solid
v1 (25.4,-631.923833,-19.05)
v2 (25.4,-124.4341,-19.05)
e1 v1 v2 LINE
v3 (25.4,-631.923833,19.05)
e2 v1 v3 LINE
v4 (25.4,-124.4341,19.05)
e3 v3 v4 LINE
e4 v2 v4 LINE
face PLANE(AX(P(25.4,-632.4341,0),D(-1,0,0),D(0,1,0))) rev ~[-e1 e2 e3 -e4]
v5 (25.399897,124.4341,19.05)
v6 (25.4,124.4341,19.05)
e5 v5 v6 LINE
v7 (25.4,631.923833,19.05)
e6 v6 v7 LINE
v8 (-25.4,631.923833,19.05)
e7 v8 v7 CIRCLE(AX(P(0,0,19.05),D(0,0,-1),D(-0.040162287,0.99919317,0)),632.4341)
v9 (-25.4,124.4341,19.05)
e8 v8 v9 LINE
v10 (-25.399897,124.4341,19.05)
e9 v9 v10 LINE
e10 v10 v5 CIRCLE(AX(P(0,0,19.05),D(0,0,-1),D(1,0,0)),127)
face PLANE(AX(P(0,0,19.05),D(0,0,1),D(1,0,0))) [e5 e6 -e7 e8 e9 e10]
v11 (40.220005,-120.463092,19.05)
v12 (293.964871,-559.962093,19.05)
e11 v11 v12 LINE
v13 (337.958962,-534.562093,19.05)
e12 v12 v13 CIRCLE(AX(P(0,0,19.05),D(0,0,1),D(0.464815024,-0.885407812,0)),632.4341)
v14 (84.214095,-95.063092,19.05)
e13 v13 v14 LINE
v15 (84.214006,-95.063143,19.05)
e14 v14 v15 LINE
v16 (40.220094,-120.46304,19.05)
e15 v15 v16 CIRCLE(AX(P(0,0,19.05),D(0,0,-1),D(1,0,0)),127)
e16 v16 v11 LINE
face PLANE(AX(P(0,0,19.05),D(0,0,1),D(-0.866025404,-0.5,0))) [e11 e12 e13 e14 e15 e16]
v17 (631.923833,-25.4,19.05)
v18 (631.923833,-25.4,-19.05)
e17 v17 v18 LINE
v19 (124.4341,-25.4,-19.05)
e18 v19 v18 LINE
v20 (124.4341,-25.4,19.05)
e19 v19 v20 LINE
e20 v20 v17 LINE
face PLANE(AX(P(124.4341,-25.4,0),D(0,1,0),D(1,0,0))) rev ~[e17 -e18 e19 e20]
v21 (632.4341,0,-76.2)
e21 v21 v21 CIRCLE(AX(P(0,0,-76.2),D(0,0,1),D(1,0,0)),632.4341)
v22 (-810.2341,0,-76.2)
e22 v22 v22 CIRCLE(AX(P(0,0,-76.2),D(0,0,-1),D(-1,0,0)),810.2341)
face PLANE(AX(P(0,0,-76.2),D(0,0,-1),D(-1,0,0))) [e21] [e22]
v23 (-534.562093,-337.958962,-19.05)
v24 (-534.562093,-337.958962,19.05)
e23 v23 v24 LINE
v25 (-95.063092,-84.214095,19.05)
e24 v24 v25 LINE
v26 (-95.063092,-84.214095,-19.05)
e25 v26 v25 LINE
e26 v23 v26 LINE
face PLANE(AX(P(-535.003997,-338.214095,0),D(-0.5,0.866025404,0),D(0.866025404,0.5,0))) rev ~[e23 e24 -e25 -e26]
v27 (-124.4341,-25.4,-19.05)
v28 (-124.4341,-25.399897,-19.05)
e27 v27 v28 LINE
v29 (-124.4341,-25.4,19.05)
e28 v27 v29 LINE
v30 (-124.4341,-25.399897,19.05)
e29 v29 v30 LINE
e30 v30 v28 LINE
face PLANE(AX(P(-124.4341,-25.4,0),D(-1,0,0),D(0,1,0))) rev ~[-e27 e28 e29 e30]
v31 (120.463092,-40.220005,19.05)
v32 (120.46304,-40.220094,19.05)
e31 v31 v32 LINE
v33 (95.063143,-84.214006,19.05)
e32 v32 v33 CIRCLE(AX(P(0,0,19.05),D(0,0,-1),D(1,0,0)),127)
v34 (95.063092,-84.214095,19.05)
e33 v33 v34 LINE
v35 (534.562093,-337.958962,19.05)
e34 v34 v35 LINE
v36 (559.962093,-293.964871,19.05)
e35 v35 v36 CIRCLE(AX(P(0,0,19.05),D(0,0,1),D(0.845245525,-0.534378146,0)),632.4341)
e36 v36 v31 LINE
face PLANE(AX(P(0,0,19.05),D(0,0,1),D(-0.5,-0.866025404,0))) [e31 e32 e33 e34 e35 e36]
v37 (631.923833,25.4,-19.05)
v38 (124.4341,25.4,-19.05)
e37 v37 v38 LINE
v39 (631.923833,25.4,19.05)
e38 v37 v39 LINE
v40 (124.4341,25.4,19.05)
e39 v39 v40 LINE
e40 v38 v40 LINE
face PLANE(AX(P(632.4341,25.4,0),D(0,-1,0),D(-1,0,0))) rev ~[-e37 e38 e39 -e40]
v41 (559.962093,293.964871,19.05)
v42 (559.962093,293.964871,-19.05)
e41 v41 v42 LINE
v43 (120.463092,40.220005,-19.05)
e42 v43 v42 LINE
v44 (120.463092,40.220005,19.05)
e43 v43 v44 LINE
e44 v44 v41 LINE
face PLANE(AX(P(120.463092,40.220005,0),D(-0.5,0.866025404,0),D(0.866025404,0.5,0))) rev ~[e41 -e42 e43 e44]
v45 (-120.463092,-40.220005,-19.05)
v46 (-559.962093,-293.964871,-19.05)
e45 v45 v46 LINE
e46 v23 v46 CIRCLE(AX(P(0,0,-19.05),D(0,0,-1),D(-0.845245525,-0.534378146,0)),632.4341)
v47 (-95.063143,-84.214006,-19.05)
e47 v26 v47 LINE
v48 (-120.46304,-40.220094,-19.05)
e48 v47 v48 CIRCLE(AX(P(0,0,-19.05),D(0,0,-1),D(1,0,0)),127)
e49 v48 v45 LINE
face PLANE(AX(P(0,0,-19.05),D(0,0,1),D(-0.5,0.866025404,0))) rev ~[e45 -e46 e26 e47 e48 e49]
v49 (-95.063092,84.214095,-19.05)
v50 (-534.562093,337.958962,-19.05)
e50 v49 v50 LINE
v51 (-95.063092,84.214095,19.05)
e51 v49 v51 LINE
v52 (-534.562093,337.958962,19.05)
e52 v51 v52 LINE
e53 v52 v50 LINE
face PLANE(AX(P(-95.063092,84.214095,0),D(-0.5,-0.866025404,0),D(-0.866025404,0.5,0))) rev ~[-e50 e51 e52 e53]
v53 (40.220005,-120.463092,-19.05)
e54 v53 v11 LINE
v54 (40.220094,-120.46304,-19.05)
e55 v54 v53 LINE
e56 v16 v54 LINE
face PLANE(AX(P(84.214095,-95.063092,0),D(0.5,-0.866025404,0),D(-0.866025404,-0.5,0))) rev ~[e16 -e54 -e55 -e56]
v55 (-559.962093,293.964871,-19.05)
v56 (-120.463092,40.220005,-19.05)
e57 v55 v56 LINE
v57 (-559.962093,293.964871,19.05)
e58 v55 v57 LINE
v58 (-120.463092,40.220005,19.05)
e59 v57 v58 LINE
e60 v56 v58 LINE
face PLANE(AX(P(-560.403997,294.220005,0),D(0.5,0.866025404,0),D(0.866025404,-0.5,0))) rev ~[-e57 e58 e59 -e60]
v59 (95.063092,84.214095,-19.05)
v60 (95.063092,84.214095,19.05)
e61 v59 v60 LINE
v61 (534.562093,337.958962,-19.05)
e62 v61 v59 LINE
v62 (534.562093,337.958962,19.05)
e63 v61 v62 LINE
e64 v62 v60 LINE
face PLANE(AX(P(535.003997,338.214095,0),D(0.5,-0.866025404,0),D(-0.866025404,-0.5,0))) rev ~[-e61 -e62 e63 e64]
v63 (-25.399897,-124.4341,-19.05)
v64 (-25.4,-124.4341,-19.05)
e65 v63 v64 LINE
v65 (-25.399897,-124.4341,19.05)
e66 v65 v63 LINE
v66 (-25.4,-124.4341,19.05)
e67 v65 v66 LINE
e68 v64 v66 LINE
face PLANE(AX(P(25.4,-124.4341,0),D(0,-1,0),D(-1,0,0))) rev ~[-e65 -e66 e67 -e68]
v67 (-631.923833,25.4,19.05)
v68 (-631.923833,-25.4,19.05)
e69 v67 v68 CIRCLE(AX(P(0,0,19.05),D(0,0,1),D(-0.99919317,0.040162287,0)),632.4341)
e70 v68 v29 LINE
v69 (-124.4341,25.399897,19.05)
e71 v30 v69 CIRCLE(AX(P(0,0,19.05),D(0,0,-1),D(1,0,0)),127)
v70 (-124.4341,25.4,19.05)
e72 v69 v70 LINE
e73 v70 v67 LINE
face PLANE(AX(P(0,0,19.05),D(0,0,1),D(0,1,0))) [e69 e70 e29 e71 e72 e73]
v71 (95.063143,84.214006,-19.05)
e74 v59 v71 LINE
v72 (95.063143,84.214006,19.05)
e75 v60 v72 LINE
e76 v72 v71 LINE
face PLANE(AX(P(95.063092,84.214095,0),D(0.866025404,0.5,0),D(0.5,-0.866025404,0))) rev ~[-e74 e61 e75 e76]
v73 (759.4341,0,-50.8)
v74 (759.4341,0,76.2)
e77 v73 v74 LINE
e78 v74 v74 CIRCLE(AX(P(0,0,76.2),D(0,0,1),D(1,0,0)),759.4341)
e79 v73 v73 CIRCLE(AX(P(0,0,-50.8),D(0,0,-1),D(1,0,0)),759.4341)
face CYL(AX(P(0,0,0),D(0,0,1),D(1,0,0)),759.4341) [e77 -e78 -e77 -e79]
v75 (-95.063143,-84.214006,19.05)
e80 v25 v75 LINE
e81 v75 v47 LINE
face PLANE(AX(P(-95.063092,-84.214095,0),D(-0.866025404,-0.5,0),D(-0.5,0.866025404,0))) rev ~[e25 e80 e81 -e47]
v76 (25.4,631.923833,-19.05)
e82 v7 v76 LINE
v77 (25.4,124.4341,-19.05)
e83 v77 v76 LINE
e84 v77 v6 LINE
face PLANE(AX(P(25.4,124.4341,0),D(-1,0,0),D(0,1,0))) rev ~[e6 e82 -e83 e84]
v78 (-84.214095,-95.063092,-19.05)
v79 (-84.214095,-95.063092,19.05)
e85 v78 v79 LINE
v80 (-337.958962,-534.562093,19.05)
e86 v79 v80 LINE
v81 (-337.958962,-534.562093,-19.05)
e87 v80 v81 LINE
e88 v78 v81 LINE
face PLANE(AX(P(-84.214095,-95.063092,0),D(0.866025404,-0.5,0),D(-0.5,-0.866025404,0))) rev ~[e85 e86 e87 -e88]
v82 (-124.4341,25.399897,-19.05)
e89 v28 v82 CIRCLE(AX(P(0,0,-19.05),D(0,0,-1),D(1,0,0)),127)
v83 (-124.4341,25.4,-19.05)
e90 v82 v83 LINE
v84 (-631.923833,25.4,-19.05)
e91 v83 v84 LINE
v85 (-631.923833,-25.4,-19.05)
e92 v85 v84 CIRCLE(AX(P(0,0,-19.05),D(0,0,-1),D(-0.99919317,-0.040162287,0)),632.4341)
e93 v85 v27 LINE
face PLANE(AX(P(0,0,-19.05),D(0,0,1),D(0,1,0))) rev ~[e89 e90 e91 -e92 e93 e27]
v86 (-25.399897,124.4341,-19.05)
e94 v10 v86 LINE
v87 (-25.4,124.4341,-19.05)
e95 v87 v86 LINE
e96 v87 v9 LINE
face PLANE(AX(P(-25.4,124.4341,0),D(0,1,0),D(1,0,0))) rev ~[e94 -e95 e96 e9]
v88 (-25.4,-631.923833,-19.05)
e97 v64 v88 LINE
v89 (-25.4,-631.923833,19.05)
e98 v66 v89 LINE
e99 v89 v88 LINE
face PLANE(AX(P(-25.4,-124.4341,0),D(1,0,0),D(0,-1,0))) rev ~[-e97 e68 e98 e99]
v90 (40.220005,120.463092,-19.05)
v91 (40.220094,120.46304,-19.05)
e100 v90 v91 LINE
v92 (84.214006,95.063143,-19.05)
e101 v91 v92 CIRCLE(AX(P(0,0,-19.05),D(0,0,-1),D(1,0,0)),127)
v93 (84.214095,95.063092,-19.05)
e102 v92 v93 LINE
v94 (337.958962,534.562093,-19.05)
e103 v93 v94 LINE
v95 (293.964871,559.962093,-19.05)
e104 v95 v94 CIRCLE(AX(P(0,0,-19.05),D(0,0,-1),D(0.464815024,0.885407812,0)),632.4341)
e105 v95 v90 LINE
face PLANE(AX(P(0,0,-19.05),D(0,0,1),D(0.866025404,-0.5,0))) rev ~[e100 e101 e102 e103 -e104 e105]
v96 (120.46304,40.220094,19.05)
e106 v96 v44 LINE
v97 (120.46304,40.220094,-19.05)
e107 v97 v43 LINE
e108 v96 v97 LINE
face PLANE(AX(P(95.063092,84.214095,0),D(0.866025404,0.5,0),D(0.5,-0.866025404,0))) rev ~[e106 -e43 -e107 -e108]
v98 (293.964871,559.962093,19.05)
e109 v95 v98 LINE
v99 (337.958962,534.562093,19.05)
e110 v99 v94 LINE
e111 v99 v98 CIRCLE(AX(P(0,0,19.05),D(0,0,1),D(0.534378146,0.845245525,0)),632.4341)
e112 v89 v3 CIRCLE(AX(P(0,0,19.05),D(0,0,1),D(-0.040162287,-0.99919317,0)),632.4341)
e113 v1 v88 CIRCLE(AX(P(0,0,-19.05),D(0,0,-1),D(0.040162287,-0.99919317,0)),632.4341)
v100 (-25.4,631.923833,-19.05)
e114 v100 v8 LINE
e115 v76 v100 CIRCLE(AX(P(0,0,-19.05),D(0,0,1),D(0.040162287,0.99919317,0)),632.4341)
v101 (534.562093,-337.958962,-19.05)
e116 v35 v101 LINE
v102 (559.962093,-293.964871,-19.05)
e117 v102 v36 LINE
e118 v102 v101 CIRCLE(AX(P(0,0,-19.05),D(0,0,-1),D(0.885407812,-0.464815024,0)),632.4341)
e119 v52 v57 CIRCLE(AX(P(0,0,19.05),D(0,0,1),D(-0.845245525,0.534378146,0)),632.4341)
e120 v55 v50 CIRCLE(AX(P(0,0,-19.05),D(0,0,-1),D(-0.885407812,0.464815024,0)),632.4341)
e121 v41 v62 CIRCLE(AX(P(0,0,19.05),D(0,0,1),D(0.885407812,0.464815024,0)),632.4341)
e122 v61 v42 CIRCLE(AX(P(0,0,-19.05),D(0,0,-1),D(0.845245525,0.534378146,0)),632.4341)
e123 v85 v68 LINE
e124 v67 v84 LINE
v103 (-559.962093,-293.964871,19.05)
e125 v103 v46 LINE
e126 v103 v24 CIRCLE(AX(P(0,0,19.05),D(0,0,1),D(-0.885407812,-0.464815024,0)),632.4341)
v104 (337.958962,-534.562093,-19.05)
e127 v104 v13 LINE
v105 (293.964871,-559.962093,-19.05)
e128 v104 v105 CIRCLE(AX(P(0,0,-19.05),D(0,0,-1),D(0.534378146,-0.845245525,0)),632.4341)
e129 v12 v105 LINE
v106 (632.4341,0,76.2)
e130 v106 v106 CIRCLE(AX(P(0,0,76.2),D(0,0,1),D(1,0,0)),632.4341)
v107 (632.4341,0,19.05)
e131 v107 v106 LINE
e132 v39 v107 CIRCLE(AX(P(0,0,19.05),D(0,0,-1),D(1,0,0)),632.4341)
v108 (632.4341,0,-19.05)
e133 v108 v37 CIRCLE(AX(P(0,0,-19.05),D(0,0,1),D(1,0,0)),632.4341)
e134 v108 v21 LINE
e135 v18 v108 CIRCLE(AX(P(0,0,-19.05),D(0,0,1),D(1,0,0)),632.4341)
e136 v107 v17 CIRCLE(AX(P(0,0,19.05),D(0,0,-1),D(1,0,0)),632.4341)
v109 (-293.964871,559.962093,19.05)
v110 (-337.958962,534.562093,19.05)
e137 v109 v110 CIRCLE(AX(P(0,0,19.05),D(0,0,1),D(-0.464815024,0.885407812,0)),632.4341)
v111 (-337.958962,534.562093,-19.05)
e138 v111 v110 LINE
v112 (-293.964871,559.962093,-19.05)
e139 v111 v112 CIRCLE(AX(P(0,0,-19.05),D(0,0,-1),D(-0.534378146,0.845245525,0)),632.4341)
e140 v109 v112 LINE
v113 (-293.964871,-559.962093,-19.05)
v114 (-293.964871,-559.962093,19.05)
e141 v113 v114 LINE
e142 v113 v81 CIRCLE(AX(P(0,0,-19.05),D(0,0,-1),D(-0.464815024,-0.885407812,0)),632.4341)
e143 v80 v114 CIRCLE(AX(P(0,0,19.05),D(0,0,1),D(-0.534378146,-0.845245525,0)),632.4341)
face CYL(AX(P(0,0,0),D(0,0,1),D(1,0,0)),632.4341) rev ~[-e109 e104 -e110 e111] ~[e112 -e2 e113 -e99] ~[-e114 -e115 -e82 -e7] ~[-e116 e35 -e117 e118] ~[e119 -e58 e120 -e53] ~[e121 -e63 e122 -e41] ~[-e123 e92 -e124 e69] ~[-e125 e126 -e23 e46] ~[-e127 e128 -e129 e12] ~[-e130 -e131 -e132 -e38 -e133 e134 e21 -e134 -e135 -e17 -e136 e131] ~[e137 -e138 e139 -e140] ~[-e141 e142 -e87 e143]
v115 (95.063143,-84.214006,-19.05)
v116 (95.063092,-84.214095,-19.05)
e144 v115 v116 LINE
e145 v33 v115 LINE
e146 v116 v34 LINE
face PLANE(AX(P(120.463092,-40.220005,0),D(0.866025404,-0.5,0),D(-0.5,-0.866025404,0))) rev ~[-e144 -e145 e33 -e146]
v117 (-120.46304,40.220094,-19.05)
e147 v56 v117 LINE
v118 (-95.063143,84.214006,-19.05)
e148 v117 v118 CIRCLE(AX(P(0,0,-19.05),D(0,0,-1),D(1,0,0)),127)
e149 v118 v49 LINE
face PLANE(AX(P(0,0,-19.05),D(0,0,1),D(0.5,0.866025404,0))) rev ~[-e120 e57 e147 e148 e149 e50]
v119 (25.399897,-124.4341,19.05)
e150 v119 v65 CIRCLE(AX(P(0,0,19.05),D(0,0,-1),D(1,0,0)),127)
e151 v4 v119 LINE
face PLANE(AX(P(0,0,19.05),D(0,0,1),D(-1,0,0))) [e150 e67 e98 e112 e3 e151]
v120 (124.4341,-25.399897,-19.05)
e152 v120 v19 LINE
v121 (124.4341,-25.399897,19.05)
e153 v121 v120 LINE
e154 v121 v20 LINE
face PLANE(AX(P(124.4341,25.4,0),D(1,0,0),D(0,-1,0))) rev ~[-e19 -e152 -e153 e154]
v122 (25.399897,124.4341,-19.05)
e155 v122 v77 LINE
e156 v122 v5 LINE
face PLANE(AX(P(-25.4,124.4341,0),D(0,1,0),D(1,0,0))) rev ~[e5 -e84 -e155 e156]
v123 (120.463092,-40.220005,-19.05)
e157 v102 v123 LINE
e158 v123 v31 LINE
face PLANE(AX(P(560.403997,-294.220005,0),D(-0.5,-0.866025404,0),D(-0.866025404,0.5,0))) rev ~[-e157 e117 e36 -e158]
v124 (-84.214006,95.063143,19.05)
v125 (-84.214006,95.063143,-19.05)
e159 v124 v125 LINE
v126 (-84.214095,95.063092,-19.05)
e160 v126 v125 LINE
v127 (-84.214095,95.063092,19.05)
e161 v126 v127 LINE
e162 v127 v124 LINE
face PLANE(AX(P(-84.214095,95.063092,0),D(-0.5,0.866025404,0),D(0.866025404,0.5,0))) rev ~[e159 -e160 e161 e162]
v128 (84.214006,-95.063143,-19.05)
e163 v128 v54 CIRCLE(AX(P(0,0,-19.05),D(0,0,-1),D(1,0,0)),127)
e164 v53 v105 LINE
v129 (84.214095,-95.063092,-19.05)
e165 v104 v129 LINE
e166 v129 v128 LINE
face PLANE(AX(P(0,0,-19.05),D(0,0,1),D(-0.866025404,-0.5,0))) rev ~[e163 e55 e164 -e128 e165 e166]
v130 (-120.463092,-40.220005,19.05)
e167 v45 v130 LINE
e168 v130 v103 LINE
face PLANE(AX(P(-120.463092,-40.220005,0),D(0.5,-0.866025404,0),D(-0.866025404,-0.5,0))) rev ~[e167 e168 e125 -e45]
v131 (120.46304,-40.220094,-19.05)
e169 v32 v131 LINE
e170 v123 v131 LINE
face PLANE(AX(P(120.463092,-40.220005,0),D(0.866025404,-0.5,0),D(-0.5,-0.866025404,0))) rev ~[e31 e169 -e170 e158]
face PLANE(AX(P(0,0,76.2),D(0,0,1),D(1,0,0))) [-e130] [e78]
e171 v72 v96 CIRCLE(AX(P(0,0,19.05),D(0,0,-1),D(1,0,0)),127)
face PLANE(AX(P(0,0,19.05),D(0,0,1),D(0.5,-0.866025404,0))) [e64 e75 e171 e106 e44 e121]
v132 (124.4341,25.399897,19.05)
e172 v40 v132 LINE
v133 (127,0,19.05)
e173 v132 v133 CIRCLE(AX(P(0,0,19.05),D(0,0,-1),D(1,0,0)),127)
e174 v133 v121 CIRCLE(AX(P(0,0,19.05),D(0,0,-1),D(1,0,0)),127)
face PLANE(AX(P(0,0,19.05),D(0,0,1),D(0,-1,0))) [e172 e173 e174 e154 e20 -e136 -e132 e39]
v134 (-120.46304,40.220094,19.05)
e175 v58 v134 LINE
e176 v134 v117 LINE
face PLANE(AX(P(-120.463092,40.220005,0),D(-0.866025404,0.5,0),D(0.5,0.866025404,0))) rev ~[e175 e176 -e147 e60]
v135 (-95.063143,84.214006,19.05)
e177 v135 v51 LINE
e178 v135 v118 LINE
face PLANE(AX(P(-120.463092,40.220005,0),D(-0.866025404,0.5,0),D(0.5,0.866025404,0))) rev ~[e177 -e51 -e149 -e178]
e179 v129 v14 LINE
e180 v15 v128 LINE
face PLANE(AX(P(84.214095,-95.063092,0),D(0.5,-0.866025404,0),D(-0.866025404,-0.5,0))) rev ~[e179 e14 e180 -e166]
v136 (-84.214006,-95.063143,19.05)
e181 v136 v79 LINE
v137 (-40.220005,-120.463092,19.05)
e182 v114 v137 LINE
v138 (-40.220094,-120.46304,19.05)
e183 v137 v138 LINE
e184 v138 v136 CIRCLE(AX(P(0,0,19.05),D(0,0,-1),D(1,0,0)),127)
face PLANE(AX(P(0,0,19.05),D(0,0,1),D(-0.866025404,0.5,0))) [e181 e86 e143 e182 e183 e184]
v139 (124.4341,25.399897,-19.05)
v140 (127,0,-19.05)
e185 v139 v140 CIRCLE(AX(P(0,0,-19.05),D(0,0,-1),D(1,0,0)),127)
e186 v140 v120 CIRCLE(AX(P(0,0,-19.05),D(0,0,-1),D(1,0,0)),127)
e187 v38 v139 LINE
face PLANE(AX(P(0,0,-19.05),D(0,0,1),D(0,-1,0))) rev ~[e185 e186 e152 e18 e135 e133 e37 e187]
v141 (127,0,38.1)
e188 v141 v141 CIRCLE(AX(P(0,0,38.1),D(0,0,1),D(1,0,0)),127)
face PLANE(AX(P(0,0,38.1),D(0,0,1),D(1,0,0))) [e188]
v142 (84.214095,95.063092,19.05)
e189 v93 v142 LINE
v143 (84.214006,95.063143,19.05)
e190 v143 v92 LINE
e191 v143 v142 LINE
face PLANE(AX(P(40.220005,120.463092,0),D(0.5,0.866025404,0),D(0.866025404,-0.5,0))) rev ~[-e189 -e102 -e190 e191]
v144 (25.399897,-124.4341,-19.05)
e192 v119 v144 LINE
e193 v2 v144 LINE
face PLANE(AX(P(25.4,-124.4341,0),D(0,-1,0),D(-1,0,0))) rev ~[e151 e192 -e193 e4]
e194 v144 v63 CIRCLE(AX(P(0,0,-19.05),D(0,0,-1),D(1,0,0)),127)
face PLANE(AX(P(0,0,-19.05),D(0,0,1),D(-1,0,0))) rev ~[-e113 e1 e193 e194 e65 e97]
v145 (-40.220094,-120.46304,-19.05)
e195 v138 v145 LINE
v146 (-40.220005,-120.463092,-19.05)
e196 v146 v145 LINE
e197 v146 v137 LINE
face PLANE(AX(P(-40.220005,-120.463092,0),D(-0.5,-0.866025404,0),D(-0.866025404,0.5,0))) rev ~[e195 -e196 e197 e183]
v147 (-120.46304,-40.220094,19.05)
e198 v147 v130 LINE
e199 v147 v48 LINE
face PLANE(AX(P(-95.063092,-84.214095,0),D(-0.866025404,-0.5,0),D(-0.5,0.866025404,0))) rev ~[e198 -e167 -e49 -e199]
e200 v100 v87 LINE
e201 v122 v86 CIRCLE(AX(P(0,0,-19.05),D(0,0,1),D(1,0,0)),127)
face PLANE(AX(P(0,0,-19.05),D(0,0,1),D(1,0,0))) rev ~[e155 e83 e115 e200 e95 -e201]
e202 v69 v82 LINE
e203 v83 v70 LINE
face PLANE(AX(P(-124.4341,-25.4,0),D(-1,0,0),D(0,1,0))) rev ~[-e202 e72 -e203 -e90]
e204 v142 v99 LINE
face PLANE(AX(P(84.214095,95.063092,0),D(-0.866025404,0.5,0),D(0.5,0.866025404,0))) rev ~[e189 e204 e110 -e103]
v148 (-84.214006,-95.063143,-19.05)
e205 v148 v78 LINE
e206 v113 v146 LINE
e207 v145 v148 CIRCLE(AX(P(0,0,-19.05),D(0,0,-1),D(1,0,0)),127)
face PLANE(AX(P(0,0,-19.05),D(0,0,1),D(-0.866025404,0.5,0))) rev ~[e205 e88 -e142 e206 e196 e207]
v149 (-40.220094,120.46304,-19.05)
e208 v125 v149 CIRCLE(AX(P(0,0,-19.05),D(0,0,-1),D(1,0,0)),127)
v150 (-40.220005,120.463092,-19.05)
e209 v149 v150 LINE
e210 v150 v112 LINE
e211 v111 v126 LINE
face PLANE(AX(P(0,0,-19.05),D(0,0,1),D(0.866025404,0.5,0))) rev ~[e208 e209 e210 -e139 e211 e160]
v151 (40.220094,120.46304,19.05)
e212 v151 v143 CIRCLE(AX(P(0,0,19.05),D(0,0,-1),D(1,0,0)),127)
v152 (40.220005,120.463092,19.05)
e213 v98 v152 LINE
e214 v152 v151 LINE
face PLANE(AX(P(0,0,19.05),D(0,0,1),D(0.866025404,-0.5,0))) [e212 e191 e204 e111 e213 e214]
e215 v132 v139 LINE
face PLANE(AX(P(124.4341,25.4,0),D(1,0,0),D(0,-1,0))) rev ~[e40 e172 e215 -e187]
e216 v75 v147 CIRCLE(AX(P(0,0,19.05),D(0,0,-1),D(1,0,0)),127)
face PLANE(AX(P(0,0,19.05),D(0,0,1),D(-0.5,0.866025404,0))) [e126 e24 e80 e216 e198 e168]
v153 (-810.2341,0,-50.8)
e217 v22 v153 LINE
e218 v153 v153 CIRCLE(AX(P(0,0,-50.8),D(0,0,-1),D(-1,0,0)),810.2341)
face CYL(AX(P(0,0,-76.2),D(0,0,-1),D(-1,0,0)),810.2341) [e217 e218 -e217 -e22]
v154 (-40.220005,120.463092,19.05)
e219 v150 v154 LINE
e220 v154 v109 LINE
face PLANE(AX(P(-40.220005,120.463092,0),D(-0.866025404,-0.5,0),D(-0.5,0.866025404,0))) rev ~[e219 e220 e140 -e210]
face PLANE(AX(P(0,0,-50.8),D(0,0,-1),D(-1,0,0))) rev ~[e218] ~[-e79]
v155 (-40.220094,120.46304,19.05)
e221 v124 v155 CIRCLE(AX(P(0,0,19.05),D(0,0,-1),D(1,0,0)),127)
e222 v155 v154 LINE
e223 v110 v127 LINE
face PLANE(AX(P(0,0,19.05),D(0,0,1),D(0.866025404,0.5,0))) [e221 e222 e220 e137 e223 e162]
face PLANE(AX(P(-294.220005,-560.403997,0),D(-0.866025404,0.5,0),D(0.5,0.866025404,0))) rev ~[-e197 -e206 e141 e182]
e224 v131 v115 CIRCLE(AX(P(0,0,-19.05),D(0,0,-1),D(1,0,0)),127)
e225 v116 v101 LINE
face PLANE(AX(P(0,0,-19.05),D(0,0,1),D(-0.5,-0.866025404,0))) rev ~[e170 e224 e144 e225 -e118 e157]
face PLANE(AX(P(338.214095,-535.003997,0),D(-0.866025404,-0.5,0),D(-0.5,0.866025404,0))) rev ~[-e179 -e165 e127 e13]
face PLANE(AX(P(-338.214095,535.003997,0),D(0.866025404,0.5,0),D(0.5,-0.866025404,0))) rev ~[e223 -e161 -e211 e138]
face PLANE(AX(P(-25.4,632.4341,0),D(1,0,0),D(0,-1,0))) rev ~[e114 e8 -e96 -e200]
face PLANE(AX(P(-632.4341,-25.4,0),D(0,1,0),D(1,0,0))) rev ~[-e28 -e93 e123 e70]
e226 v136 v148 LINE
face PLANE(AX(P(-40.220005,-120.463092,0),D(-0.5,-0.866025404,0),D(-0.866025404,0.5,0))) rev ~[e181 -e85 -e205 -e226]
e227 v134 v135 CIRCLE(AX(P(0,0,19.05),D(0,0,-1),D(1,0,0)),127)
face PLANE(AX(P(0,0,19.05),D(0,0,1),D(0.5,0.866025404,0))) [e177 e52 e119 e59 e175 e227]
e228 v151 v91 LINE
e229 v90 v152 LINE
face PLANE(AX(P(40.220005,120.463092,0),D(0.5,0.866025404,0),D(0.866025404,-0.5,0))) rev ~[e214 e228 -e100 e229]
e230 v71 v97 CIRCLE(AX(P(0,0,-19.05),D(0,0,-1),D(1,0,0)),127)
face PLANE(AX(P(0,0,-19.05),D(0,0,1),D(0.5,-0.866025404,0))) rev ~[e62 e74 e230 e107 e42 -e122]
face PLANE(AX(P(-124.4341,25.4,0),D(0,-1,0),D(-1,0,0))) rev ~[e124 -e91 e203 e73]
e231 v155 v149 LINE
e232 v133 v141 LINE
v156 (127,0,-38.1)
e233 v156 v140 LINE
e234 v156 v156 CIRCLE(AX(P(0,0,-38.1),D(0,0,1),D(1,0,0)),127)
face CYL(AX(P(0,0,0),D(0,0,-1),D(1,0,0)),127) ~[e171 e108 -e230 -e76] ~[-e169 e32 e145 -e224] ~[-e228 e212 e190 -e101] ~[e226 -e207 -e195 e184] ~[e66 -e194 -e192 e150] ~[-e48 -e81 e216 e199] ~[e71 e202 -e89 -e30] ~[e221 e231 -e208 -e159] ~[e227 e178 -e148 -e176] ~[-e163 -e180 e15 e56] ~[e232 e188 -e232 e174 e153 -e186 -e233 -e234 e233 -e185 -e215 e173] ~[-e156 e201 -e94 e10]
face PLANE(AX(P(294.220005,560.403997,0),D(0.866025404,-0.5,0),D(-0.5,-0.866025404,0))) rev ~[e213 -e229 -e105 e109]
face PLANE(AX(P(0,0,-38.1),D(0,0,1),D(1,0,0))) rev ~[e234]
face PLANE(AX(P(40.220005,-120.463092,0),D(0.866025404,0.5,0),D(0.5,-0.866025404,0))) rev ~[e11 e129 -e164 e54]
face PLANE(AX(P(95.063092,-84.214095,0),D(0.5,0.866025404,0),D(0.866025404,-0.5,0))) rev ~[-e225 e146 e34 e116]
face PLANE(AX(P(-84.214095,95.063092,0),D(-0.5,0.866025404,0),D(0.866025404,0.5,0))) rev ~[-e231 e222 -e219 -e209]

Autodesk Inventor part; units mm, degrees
ref_plane "YZ Plane" through (0, 0, 0) normal (1, 0, 0) x (0, 1, 0)
ref_plane "XZ Plane" through (0, 0, 0) normal (0, 1, 0) x (-1, 0, 0)
ref_plane "XY Plane" through (0, 0, 0) normal (0, 0, 1) x (1, 0, 0)
sketch "Sketch1" plane through (0, 0, 0) normal (0, 0, 1) x (1, 0, 0)
  circle A0 centre (0, 0) radius 127
  dimension "d0" = 254
extrude "Extrusion1" add sketch "Sketch1" along normal mid plane 76.2
sketch "Sketch2" plane through (0, 0, 0) normal (0, 0, 1) x (1, 0, 0)
  circle A0 centre (0, 0) radius 127 construction
  line L0 (-25.4, 124.4341) -> (25.4, 124.4341)
  line L1 (25.4, 124.4341) -> (25.4, 632.4341)
  line L2 (25.4, 632.4341) -> (-25.4, 632.4341)
  line L3 (-25.4, 632.4341) -> (-25.4, 124.4341)
  dimension "d3" = 50.8
  dimension "d4" = 508
extrude "Extrusion2" add sketch "Sketch2" along normal mid plane 38.1
pattern_circular "Circular Pattern1" count 12 over 360 about axis through (0, 0, -10) along (0, 0, 1) of "Extrusion2"
sketch "Sketch3" plane through (0, 0, 0) normal (0, 0, 1) x (1, 0, 0)
  circle A0 centre (0, 0) radius 632.4341
  line L0 (25.4, 632.4341) -> (-25.4, 632.4341) projected
  arc A1 (-95.0631, 84.2141) -> (-120.4631, 40.22) centre (0, 0) ccw projected
  circle A2 centre (0, 0) radius 759.4341
  point P0 (0, 632.4341)
  dimension "d10" = 127
extrude "Extrusion3" add sketch "Sketch3" along normal mid plane 152.4
sketch "Sketch5" plane through (0, 0, -76.2) normal (0, 0, -1) x (-1, 0, 0)
  circle A0 centre (0, 0) radius 810.2341
  circle A1 centre (0, 0) radius 759.4341 projected
  circle A2 centre (0, 0) radius 759.4341
  dimension "d13" = 50.8
extrude "Extrusion4" add sketch "Sketch5" against normal blind 25.4
properties part number "wheel"
